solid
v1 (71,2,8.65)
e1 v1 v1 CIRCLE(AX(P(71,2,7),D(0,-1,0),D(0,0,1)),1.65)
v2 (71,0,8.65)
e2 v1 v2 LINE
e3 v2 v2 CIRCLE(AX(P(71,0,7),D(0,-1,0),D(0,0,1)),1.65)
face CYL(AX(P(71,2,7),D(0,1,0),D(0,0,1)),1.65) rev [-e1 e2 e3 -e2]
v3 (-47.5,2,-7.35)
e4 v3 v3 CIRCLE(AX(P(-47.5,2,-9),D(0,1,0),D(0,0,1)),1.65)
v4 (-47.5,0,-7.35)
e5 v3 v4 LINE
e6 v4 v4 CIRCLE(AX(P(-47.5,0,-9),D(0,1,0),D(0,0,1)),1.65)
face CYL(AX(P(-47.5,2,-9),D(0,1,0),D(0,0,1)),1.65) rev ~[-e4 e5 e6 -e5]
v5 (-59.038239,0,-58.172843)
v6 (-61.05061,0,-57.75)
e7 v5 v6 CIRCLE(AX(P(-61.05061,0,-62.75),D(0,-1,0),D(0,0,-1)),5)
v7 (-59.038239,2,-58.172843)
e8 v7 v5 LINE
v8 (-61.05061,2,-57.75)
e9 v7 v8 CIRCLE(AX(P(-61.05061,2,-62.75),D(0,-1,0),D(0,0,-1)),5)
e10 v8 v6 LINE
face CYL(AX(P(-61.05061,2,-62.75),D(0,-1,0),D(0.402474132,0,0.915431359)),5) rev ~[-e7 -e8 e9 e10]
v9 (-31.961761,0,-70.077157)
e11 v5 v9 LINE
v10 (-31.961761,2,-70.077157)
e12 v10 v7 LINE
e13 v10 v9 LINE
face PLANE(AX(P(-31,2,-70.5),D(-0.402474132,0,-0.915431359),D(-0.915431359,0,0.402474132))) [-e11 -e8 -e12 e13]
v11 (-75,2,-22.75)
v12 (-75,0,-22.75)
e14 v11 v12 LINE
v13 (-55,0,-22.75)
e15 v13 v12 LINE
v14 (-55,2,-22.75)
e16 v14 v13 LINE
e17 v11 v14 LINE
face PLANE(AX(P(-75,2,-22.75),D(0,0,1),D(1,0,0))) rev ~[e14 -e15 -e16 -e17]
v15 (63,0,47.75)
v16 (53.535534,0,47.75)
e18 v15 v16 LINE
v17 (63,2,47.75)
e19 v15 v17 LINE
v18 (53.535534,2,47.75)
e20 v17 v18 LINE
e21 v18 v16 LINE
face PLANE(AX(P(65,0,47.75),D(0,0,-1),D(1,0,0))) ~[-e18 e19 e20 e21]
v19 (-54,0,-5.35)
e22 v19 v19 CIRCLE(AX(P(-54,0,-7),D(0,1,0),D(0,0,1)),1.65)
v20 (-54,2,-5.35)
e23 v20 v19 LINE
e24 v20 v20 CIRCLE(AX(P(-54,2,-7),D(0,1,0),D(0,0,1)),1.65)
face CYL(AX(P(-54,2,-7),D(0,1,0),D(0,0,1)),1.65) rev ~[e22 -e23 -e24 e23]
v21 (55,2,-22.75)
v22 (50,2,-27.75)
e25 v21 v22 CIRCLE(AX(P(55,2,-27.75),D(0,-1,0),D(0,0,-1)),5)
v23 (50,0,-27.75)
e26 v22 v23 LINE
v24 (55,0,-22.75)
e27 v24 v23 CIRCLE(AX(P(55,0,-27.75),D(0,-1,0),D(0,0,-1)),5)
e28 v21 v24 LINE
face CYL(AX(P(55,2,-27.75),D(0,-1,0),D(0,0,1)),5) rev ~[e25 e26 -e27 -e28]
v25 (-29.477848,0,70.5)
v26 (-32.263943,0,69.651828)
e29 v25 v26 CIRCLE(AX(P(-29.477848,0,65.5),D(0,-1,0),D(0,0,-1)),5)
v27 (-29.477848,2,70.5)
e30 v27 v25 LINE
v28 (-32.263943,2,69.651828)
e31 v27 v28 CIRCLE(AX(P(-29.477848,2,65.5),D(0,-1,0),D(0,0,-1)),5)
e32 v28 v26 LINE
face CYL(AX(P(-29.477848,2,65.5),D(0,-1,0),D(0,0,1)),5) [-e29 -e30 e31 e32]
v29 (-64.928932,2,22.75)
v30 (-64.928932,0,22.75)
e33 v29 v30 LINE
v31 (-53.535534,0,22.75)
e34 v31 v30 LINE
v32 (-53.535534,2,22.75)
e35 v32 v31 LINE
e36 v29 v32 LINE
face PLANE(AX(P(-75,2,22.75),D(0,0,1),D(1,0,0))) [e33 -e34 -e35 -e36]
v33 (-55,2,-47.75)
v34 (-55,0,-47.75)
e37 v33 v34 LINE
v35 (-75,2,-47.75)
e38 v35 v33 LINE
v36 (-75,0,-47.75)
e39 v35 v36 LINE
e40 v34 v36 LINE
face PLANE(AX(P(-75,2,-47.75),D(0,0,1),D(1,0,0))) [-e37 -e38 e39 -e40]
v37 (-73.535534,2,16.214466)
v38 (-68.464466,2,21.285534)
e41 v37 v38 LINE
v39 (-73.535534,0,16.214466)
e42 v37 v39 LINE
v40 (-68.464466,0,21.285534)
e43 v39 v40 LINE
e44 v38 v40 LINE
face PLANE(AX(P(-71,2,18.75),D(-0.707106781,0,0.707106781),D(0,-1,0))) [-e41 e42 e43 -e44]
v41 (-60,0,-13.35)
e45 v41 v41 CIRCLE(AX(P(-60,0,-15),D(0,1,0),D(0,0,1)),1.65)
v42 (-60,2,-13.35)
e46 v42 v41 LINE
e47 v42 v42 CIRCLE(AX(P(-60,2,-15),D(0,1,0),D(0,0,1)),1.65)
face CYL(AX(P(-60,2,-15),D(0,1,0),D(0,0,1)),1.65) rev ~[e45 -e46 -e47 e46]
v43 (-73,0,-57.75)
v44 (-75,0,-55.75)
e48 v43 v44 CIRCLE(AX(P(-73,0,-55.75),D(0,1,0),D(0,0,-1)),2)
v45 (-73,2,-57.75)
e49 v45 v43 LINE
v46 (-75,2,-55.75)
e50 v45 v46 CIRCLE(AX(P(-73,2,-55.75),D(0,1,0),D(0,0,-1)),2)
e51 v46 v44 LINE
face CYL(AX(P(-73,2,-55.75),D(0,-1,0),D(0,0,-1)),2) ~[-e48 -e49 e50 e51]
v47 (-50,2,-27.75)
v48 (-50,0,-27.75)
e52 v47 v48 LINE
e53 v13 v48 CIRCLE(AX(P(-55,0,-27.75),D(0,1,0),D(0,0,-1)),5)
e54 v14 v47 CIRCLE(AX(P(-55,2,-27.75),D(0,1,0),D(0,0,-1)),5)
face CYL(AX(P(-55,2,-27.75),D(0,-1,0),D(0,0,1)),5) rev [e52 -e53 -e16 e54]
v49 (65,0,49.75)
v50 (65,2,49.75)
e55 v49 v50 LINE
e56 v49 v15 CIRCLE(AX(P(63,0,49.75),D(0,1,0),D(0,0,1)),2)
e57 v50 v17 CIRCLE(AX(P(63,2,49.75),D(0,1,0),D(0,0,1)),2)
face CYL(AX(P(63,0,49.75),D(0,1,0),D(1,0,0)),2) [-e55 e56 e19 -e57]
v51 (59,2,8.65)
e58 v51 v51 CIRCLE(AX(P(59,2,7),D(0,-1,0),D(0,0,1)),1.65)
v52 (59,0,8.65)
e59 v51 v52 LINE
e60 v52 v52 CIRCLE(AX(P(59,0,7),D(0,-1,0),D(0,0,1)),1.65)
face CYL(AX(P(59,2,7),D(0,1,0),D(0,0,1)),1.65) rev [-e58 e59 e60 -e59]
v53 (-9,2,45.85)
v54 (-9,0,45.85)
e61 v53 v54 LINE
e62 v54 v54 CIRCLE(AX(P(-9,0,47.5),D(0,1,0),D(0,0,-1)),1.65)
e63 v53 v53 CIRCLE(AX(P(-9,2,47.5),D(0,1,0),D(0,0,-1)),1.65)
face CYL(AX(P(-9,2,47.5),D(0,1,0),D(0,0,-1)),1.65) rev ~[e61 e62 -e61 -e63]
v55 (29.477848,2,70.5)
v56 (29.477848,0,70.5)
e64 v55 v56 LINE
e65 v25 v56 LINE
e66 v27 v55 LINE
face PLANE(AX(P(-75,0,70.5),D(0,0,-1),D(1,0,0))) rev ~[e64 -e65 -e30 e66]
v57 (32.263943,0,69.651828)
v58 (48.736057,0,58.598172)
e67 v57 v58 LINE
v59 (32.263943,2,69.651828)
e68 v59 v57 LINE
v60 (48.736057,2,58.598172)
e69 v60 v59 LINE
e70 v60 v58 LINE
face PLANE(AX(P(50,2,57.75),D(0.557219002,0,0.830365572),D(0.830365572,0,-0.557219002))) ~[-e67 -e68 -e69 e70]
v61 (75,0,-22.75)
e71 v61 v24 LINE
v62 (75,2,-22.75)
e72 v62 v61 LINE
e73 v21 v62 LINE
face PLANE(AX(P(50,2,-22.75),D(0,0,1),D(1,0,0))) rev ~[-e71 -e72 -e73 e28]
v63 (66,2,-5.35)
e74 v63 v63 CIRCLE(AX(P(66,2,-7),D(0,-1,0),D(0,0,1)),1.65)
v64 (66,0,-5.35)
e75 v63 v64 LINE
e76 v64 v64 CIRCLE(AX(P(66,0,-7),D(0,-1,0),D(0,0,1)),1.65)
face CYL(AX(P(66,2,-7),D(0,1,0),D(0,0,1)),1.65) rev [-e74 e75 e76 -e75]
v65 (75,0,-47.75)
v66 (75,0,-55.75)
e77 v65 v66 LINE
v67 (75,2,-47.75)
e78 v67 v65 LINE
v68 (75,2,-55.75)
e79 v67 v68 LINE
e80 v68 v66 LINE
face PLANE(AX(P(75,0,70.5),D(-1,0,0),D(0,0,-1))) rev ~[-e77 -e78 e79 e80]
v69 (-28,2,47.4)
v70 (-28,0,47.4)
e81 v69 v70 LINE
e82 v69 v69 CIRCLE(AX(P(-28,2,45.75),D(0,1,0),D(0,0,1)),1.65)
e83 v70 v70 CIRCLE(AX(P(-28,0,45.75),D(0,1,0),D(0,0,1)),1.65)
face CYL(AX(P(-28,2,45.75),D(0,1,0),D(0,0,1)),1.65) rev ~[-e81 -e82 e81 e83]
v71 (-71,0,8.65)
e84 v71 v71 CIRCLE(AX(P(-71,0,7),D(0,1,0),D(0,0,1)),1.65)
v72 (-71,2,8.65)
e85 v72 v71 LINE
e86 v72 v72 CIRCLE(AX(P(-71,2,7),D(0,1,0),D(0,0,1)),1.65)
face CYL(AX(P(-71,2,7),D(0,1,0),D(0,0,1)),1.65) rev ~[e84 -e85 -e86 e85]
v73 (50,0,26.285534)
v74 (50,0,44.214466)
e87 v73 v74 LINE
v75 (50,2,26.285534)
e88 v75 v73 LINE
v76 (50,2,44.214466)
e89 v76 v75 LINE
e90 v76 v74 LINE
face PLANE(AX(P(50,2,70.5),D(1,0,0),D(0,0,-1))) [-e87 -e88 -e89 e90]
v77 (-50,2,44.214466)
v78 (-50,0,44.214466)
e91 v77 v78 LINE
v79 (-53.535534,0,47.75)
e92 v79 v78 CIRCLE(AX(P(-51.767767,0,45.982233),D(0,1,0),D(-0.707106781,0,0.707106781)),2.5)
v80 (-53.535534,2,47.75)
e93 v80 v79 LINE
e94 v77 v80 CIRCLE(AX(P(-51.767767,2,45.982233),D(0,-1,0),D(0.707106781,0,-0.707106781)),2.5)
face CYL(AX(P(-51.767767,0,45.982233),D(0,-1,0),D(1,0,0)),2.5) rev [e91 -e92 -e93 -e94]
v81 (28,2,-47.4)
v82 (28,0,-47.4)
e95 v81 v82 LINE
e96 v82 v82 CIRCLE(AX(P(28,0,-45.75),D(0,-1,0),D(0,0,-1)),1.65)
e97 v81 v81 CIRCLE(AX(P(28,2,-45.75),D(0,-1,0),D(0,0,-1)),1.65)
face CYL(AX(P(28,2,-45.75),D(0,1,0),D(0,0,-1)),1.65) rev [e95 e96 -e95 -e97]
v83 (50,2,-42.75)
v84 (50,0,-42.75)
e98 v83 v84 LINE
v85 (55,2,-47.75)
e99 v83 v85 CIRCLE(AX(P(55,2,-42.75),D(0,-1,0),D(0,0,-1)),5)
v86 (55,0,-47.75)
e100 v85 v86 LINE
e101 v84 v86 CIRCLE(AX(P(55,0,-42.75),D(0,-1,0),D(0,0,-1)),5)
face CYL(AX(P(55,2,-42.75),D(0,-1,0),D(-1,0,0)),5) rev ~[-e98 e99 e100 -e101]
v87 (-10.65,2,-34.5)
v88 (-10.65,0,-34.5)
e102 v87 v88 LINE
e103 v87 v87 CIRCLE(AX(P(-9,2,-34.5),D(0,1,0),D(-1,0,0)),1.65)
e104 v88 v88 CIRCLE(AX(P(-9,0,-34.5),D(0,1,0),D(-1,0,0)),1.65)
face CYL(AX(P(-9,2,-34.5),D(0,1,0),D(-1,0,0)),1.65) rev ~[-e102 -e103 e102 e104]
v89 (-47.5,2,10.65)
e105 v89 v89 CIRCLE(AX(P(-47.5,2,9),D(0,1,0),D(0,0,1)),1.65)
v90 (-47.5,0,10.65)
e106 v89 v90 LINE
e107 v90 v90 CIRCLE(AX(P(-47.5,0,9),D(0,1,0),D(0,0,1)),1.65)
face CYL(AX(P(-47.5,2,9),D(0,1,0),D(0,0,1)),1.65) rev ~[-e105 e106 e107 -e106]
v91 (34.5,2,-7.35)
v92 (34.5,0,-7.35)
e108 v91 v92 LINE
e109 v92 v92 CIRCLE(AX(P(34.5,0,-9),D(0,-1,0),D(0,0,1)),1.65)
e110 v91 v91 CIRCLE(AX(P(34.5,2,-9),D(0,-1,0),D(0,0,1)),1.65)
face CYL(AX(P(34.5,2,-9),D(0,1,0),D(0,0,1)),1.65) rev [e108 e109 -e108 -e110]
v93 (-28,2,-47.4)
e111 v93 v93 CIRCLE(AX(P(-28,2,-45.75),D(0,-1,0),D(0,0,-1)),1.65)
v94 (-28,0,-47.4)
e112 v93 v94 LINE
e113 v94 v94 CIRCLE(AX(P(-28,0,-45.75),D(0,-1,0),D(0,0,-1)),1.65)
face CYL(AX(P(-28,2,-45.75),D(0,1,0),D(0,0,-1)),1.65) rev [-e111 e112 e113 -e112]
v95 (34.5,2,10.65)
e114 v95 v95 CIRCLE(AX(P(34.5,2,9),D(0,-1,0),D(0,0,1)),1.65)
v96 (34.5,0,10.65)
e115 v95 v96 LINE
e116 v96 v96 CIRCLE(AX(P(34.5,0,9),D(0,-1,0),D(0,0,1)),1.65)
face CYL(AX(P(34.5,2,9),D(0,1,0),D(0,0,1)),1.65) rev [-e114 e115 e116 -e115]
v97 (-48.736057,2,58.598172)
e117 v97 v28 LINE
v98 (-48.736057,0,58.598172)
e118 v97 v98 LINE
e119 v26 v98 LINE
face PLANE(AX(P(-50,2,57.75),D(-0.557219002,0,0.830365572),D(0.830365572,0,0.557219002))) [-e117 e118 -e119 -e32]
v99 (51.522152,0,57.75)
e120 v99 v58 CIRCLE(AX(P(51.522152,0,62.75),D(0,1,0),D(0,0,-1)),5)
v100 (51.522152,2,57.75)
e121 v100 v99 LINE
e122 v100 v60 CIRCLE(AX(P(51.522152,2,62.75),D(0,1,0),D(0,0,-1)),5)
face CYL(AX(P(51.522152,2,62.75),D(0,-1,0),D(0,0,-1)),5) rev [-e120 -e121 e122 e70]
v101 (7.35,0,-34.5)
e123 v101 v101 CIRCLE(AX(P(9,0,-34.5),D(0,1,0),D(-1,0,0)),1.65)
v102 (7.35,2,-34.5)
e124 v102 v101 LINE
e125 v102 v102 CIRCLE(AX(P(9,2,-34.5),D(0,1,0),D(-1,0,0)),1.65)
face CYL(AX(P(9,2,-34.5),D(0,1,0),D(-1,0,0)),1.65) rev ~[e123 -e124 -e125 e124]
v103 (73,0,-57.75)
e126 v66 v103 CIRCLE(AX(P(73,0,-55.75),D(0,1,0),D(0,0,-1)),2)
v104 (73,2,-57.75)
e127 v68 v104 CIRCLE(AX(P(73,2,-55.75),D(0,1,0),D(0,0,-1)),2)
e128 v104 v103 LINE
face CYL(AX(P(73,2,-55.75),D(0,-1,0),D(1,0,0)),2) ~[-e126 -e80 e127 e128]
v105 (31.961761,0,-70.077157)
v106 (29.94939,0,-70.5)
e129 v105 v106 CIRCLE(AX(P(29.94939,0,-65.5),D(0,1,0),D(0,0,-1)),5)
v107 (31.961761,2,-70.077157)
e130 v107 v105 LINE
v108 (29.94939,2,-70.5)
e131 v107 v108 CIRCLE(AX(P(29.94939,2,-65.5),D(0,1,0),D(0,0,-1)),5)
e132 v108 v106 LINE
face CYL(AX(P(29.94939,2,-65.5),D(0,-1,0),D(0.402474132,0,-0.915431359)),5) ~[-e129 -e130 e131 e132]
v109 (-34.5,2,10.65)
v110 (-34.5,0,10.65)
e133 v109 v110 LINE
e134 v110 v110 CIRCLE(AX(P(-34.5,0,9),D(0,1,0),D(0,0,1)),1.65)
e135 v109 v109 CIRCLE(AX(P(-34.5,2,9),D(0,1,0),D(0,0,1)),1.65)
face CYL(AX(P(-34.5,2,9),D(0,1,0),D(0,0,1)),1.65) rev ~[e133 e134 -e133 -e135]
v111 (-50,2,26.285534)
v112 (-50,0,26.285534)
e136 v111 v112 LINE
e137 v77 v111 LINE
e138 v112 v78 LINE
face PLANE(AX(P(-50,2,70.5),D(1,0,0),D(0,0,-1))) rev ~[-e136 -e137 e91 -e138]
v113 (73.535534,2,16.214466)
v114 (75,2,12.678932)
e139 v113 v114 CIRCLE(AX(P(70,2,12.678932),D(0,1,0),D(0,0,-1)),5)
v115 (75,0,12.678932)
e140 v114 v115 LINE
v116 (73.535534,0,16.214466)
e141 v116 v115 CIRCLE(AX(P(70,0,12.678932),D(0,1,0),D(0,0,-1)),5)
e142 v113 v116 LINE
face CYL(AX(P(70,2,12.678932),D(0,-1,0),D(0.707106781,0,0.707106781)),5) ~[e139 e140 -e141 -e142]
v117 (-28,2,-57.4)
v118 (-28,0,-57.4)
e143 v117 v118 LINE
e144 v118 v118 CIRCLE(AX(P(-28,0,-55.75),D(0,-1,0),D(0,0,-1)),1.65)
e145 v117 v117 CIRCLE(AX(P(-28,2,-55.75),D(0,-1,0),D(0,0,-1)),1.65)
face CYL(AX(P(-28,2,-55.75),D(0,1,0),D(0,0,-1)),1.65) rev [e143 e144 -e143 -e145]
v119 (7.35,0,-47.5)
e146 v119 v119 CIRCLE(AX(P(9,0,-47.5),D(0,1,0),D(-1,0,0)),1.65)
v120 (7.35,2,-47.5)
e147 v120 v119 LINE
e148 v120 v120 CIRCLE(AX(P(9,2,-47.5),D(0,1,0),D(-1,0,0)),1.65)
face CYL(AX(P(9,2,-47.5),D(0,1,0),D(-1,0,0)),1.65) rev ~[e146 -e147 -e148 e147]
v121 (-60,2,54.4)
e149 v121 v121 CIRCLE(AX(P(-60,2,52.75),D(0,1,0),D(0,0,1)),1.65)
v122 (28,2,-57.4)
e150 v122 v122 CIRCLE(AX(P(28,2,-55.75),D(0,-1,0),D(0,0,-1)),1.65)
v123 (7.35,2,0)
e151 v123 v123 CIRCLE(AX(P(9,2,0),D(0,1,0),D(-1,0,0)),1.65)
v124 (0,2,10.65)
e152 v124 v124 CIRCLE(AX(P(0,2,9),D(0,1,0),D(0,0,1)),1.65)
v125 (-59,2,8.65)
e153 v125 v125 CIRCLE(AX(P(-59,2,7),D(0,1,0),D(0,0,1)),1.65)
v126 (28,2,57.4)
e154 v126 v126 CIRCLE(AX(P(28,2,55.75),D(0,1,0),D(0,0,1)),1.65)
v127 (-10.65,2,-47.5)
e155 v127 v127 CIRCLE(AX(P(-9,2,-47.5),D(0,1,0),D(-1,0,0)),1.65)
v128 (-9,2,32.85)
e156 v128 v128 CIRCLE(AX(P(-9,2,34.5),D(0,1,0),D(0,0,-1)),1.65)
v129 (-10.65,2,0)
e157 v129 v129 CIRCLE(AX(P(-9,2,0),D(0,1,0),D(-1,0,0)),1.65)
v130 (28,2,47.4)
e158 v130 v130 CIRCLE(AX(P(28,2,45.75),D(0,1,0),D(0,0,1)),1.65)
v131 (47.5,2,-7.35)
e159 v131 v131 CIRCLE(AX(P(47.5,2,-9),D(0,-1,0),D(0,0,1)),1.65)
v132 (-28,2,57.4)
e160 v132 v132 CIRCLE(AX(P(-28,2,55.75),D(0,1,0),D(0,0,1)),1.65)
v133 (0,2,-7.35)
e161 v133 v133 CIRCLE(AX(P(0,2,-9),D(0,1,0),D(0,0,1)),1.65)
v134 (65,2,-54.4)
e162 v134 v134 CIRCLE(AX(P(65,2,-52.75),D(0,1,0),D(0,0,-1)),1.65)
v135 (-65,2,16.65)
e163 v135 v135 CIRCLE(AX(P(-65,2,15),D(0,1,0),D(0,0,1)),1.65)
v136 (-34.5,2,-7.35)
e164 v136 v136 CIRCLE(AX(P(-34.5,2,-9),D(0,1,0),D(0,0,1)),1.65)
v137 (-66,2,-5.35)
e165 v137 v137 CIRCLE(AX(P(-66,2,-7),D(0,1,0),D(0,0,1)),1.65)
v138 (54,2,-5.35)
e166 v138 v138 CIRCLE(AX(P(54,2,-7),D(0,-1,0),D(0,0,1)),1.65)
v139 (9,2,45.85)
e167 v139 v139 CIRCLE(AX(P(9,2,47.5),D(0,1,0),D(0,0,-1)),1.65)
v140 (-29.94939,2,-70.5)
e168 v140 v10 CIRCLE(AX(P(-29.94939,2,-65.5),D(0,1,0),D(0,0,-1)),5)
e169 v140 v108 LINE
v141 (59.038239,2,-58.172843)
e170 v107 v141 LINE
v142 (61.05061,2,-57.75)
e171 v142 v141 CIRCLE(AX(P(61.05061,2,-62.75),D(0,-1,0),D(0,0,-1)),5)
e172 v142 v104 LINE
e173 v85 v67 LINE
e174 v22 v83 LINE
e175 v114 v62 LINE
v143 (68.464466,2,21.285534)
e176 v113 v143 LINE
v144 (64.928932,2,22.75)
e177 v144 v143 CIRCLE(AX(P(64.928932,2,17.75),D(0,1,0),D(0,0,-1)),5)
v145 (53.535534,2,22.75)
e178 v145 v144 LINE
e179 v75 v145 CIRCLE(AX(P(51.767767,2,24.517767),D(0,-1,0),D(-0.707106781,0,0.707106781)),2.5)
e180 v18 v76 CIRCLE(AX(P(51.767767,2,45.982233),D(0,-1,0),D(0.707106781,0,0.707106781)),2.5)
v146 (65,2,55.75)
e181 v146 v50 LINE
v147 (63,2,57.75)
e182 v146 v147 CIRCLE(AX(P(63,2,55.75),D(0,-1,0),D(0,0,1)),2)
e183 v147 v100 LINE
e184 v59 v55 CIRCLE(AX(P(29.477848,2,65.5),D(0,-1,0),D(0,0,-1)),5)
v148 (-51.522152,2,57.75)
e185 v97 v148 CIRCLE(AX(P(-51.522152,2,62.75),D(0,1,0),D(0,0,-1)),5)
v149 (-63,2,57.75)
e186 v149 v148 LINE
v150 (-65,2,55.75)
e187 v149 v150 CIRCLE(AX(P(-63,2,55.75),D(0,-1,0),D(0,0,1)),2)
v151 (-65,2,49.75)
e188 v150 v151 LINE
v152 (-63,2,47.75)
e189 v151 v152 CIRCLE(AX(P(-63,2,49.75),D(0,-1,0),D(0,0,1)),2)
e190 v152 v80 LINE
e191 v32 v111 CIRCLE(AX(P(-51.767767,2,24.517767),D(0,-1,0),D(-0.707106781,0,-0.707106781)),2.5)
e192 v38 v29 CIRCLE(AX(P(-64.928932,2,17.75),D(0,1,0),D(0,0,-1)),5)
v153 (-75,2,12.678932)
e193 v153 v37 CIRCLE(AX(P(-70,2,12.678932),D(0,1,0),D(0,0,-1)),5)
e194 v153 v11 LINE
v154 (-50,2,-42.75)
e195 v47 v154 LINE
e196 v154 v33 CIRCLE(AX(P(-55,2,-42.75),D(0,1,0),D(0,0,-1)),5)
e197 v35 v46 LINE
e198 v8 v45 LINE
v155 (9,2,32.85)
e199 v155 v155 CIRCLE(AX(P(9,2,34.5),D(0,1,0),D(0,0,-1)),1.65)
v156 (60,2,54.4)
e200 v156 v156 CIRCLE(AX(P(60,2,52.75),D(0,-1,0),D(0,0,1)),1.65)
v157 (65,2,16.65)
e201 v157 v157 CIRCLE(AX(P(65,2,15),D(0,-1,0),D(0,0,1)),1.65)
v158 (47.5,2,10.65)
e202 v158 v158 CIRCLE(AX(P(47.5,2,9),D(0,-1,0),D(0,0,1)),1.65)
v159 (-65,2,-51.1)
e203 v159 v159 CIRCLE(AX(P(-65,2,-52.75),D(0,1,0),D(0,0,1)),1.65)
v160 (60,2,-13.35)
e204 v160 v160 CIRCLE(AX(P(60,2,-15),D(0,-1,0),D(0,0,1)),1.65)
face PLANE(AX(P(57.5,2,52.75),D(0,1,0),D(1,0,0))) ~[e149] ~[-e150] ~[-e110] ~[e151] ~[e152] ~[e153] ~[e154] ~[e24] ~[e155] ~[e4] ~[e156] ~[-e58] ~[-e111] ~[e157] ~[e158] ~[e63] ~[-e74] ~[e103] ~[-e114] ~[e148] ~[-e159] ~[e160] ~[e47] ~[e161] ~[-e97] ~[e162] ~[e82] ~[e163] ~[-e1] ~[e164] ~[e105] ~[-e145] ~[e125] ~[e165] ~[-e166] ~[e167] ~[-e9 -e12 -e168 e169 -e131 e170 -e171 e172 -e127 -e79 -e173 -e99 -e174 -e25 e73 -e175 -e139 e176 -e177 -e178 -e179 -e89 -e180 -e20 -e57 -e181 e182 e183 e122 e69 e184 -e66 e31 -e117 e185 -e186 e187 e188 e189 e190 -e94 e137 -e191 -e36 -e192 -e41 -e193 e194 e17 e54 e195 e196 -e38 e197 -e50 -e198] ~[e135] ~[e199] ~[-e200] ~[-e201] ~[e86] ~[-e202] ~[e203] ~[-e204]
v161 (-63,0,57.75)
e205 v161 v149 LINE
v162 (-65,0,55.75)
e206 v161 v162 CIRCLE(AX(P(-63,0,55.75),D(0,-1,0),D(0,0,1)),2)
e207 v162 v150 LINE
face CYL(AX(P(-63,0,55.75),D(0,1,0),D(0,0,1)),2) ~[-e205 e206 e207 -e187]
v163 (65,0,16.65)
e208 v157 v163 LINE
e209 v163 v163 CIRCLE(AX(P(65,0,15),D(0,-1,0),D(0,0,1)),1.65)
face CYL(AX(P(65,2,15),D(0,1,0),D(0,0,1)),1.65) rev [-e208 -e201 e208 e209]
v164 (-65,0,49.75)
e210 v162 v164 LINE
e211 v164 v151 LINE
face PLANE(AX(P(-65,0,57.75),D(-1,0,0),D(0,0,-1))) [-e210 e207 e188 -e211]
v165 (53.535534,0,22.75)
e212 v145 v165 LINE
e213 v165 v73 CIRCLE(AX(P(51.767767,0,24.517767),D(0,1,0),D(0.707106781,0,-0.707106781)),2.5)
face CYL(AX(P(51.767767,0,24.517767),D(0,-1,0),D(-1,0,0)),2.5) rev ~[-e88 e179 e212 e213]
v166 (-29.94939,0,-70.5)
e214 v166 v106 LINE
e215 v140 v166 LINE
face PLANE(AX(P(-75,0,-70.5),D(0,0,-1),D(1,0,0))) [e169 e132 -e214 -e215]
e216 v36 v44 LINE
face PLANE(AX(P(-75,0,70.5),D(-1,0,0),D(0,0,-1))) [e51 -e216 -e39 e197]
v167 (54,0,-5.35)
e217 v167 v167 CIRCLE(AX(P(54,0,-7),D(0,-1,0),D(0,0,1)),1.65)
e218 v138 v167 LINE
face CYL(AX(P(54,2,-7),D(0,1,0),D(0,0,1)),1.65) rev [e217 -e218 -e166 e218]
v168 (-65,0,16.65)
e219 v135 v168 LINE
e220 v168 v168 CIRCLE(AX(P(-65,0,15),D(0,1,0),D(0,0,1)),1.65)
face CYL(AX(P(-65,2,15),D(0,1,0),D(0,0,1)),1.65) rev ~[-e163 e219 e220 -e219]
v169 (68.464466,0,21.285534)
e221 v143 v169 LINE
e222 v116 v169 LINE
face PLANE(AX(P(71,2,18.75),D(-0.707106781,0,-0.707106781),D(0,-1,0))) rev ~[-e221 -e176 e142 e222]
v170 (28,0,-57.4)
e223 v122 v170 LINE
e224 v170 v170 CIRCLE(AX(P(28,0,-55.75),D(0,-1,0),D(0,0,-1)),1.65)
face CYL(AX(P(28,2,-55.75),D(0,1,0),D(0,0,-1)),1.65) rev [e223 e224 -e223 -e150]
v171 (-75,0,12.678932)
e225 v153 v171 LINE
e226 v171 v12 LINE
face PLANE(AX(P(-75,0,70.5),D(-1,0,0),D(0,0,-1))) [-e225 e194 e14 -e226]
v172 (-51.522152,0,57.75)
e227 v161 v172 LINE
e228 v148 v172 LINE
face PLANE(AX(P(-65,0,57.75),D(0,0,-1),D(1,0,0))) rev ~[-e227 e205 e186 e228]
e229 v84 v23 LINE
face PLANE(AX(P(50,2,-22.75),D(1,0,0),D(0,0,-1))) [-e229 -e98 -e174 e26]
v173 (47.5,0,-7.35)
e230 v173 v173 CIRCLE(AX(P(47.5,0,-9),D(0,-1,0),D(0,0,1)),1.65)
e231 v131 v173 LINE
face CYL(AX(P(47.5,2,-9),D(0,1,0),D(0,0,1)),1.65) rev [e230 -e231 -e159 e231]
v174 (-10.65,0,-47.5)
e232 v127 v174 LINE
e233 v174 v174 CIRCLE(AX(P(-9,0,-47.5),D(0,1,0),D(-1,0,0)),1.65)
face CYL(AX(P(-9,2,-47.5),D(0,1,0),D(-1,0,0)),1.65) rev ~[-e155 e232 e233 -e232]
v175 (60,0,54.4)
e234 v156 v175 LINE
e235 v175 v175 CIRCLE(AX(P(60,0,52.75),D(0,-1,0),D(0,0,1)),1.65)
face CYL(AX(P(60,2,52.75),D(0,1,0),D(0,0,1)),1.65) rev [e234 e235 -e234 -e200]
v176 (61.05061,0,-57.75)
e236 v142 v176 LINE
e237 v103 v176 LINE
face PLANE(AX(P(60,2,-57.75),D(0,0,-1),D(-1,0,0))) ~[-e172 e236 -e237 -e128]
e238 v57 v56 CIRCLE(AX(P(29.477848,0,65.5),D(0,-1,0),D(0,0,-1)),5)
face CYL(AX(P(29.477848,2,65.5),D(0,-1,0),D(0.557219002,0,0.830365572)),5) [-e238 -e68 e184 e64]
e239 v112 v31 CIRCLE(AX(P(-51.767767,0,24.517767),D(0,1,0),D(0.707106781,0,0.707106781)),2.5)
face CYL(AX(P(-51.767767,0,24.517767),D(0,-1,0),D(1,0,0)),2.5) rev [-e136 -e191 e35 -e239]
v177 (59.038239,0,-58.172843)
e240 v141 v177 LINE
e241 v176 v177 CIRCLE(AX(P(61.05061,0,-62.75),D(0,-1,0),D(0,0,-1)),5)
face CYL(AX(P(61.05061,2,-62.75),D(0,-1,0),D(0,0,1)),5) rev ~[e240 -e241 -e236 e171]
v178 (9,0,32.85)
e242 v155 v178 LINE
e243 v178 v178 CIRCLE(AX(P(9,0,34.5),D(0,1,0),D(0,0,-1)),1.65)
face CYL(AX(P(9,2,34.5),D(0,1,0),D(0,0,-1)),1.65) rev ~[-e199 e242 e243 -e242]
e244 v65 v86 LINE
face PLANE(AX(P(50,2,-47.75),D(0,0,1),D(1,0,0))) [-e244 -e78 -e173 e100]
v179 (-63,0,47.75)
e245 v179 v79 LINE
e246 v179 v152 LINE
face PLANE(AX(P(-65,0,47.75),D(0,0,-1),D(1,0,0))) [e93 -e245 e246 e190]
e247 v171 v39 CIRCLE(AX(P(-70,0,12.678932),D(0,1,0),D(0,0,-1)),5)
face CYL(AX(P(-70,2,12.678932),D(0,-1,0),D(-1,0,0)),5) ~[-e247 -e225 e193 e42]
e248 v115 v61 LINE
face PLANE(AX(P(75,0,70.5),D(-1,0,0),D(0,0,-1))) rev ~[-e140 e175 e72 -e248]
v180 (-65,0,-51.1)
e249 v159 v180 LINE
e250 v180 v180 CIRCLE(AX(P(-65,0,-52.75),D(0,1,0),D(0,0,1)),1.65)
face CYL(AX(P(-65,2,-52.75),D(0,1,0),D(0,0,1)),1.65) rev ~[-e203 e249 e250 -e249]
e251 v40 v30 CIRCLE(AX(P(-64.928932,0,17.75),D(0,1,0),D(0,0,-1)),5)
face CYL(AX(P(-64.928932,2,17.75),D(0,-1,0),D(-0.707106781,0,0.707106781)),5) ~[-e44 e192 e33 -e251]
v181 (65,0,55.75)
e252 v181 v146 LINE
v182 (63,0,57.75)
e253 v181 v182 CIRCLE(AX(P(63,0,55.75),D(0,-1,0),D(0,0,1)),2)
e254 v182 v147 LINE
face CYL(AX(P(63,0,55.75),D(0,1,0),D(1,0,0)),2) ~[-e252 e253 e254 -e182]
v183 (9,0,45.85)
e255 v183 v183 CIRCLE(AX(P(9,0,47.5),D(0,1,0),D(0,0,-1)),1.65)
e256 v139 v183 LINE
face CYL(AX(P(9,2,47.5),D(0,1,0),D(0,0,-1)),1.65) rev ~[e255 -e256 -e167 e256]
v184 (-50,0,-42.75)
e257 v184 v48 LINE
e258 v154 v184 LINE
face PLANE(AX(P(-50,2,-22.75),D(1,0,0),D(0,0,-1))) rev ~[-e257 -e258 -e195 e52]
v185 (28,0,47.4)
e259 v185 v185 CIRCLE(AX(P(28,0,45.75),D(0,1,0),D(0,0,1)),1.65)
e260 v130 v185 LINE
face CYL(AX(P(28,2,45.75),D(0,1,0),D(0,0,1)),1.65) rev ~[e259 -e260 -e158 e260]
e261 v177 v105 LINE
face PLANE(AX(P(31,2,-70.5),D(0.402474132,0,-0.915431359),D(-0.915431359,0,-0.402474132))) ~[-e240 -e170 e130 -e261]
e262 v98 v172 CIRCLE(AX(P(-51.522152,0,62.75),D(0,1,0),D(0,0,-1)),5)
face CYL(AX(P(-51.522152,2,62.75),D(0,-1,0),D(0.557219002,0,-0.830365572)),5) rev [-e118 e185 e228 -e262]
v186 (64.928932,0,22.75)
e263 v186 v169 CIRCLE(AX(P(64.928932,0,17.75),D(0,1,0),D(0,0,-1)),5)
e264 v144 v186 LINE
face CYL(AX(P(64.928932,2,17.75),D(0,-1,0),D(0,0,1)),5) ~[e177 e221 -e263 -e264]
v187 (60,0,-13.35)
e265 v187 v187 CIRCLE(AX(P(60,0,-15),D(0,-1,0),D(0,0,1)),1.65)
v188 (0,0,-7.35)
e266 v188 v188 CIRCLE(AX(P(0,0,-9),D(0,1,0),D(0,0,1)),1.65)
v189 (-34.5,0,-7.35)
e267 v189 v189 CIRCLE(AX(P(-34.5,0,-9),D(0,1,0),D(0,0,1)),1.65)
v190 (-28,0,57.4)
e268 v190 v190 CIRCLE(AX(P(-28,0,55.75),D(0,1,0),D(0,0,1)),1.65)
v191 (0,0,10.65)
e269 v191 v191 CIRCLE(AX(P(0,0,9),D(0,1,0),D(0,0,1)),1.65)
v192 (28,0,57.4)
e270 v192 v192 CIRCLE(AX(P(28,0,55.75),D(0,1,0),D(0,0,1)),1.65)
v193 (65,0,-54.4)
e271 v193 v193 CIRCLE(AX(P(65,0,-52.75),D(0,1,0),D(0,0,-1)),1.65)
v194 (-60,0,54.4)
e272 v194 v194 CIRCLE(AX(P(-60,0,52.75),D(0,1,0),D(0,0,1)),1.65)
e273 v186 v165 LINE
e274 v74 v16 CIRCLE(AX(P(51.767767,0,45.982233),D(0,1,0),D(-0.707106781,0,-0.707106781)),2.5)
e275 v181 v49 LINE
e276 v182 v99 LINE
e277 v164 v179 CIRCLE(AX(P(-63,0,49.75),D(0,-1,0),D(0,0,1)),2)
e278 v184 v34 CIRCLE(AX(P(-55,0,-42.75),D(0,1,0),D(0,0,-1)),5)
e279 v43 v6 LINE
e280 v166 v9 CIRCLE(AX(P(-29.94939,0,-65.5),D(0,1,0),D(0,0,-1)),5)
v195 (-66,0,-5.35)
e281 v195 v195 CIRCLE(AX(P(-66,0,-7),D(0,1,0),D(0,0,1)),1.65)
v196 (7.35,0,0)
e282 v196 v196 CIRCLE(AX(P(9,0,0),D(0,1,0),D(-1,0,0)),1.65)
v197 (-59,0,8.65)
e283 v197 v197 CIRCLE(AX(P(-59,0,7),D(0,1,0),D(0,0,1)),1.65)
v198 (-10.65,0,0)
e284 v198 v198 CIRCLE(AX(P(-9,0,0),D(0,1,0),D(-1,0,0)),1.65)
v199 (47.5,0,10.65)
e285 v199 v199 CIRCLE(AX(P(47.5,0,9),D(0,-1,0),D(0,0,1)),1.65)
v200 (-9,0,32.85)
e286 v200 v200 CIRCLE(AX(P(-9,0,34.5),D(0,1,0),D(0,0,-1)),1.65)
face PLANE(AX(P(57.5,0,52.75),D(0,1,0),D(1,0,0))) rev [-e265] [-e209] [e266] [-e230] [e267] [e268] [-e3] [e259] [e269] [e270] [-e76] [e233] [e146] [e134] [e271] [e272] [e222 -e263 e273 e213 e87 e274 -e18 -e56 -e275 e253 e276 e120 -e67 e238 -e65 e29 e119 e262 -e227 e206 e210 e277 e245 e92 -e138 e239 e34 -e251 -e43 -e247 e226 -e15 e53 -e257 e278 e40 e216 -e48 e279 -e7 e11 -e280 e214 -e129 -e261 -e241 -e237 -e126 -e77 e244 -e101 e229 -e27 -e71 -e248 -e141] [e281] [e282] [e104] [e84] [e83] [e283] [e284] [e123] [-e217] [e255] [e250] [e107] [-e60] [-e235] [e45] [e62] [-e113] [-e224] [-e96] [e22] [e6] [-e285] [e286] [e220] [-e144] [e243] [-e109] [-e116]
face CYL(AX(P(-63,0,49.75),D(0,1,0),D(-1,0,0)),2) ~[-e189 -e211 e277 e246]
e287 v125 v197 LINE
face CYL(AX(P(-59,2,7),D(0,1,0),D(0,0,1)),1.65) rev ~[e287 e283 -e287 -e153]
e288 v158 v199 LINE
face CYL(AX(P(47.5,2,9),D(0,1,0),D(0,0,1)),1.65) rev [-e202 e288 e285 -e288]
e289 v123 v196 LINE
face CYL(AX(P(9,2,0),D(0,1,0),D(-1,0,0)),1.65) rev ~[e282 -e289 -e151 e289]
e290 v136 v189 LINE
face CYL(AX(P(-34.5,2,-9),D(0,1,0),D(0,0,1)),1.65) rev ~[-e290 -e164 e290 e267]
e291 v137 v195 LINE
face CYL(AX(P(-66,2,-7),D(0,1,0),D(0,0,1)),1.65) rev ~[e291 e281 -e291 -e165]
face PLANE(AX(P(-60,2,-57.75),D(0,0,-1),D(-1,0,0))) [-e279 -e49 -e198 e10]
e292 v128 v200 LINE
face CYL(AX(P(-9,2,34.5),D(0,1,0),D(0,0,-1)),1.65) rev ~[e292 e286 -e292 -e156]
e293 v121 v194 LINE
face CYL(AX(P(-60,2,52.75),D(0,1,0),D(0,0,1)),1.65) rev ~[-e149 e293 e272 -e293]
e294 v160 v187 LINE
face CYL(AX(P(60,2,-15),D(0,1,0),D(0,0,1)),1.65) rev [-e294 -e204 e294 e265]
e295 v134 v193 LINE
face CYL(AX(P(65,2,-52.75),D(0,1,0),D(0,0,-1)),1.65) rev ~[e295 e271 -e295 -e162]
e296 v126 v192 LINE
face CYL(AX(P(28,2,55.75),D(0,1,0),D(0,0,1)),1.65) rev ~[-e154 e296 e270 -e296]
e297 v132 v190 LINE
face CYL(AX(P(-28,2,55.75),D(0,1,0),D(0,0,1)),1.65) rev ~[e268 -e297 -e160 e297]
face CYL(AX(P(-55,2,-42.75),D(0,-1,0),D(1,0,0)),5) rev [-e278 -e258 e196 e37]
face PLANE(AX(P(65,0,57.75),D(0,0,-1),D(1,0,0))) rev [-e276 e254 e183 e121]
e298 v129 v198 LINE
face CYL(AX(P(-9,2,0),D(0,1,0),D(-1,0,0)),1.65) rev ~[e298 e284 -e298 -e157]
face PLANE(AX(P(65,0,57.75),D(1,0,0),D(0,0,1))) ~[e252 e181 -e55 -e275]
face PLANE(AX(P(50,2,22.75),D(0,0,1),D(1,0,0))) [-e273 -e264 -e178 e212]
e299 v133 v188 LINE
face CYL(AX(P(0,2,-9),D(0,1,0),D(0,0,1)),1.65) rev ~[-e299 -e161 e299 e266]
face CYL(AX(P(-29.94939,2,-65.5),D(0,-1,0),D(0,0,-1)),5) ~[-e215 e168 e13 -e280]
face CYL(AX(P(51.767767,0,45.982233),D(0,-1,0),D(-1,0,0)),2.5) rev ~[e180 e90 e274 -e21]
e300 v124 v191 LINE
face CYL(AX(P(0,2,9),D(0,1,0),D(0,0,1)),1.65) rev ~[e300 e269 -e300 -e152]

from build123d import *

# Parameters (mm, degrees)
SKETCH_1_W                         = 150
SKETCH_1_H                         = 141
EXTRUDE_1_DEPTH                    = 2
CUT_EXTRUDE_1_REACH                = 104.953
SKETCH_2_R                         = 1.65
CUT_EXTRUDE_5_REACH                = 104.953
SKETCH_9_W                         = 25
SKETCH_9_H                         = 47.75
CUT_EXTRUDE_6_REACH                = 104.953
CHAMFER_1_SIZE                     = 8
CUT_EXTRUDE_7_REACH                = 104.953
SKETCH_11_W                        = 25
SKETCH_11_H                        = 25
CUT_EXTRUDE_8_REACH                = 104.953
SKETCH_12_R                        = 1.65
FILLET_1_R                         = 5
CUT_EXTRUDE_9_REACH                = 104.953
SKETCH_14_W                        = 15
SKETCH_14_H                        = 10
EXTRUDE_2_DEPTH                    = 2
CUT_EXTRUDE_10_REACH               = 104.953
SKETCH_15_R                        = 1.65
CUT_EXTRUDE_START                  = -2
SKETCH_18_R                        = 2.5
CUT_EXTRUDE_13_DEPTH               = 2
CUT_EXTRUDE_14_REACH               = 104.953
SKETCH_19_R                        = 1.65
CUT_EXTRUDE_15_REACH               = 104.953
SKETCH_20_R                        = 1.65
FILLET_2_R                         = 2
CUT_EXTRUDE_12_REACH               = 104.953
SKETCH_17_R                        = 1.65
FILLET_3_R                         = 5
PATTERN_CIRCULAR_1_COUNT           = 2
PATTERN_CIRCULAR_1_ANGLE           = 90
PATTERN_CIRCULAR_1_COPY_1_REACH    = 104.953
PATTERN_CIRCULAR_1_COPY_1_SKETCH_R = 1.65


with BuildPart() as part:
    # 草图1 → 凸台-拉伸1 (new body)
    with BuildSketch(Plane(origin=(0, 0, 0), x_dir=(1, 0, 0), z_dir=(0, 1, 0))):
        Rectangle(SKETCH_1_W, SKETCH_1_H)
    extrude(amount=EXTRUDE_1_DEPTH)

    # 草图2 → 切除-拉伸1 (cut, up to next)
    with BuildSketch(Plane(origin=(0, 2, 0), x_dir=(1, 0, 0), z_dir=(0, 1, 0)), mode=Mode.PRIVATE) as cut_extrude_1_sk1:
        with Locations(Location((-60, 15, 0), (0, 0, 270))):
            Circle(SKETCH_2_R)
    cut_extrude_1_tool1 = extrude(cut_extrude_1_sk1.sketch, amount=-CUT_EXTRUDE_1_REACH, mode=Mode.PRIVATE) & part.part
    # 草图2 → 切除-拉伸1 (cut, up to next)
    with BuildSketch(Plane(origin=(0, 2, 0), x_dir=(1, 0, 0), z_dir=(0, 1, 0)), mode=Mode.PRIVATE) as cut_extrude_1_sk2:
        with Locations(Location((-66, 7, 0), (0, 0, 270))):
            Circle(SKETCH_2_R)
    cut_extrude_1_tool2 = extrude(cut_extrude_1_sk2.sketch, amount=-CUT_EXTRUDE_1_REACH, mode=Mode.PRIVATE) & part.part
    # 草图2 → 切除-拉伸1 (cut, up to next)
    with BuildSketch(Plane(origin=(0, 2, 0), x_dir=(1, 0, 0), z_dir=(0, 1, 0)), mode=Mode.PRIVATE) as cut_extrude_1_sk3:
        with Locations(Location((-54, 7, 0), (0, 0, 270))):
            Circle(SKETCH_2_R)
    cut_extrude_1_tool3 = extrude(cut_extrude_1_sk3.sketch, amount=-CUT_EXTRUDE_1_REACH, mode=Mode.PRIVATE) & part.part
    # 草图2 → 切除-拉伸1 (cut, up to next)
    with BuildSketch(Plane(origin=(0, 2, 0), x_dir=(1, 0, 0), z_dir=(0, 1, 0)), mode=Mode.PRIVATE) as cut_extrude_1_sk4:
        with Locations(Location((-71, -7, 0), (0, 0, 270))):
            Circle(SKETCH_2_R)
    cut_extrude_1_tool4 = extrude(cut_extrude_1_sk4.sketch, amount=-CUT_EXTRUDE_1_REACH, mode=Mode.PRIVATE) & part.part
    # 草图2 → 切除-拉伸1 (cut, up to next)
    with BuildSketch(Plane(origin=(0, 2, 0), x_dir=(1, 0, 0), z_dir=(0, 1, 0)), mode=Mode.PRIVATE) as cut_extrude_1_sk5:
        with Locations(Location((-59, -7, 0), (0, 0, 270))):
            Circle(SKETCH_2_R)
    cut_extrude_1_tool5 = extrude(cut_extrude_1_sk5.sketch, amount=-CUT_EXTRUDE_1_REACH, mode=Mode.PRIVATE) & part.part
    # 草图2 → 切除-拉伸1 (cut, up to next)
    with BuildSketch(Plane(origin=(0, 2, 0), x_dir=(1, 0, 0), z_dir=(0, 1, 0)), mode=Mode.PRIVATE) as cut_extrude_1_sk6:
        with Locations(Location((-65, -15, 0), (0, 0, 270))):
            Circle(SKETCH_2_R)
    cut_extrude_1_tool6 = extrude(cut_extrude_1_sk6.sketch, amount=-CUT_EXTRUDE_1_REACH, mode=Mode.PRIVATE) & part.part
    cut_extrude_1_1 = cut_extrude_1_tool1.solids().sort_by_distance((-60, 2, -15))[0]
    add(cut_extrude_1_1, mode=Mode.SUBTRACT)
    cut_extrude_1_2 = cut_extrude_1_tool2.solids().sort_by_distance((-66, 2, -7))[0]
    add(cut_extrude_1_2, mode=Mode.SUBTRACT)
    cut_extrude_1_3 = cut_extrude_1_tool3.solids().sort_by_distance((-54, 2, -7))[0]
    add(cut_extrude_1_3, mode=Mode.SUBTRACT)
    cut_extrude_1_4 = cut_extrude_1_tool4.solids().sort_by_distance((-71, 2, 7))[0]
    add(cut_extrude_1_4, mode=Mode.SUBTRACT)
    cut_extrude_1_5 = cut_extrude_1_tool5.solids().sort_by_distance((-59, 2, 7))[0]
    add(cut_extrude_1_5, mode=Mode.SUBTRACT)
    cut_extrude_1_6 = cut_extrude_1_tool6.solids().sort_by_distance((-65, 2, 15))[0]
    add(cut_extrude_1_6, mode=Mode.SUBTRACT)
    cut_extrude_1 = cut_extrude_1_1 + cut_extrude_1_2 + cut_extrude_1_3 + cut_extrude_1_4 + cut_extrude_1_5 + cut_extrude_1_6  # 切除-拉伸1 as one shape, for the pattern or mirror that repeats it

    # 草图9 → 切除-拉伸5 (cut, up to next)
    with BuildSketch(Plane(origin=(0, 2, 0), x_dir=(1, 0, 0), z_dir=(0, 1, 0)), mode=Mode.PRIVATE) as cut_extrude_5_sk1:
        with Locations((-62.5, -46.625)):
            Rectangle(SKETCH_9_W, SKETCH_9_H)
    cut_extrude_5_tool1 = extrude(cut_extrude_5_sk1.sketch, amount=-CUT_EXTRUDE_5_REACH, mode=Mode.PRIVATE) & part.part
    # 草图9 → 切除-拉伸5 (cut, up to next)
    with BuildSketch(Plane(origin=(0, 2, 0), x_dir=(1, 0, 0), z_dir=(0, 1, 0)), mode=Mode.PRIVATE) as cut_extrude_5_sk2:
        with Locations((62.5, -46.625)):
            Rectangle(SKETCH_9_W, SKETCH_9_H)
    cut_extrude_5_tool2 = extrude(cut_extrude_5_sk2.sketch, amount=-CUT_EXTRUDE_5_REACH, mode=Mode.PRIVATE) & part.part
    add(cut_extrude_5_tool1.solids().sort_by_distance((-62.5, 2, 46.625))[0], mode=Mode.SUBTRACT)
    add(cut_extrude_5_tool2.solids().sort_by_distance((62.5, 2, 46.625))[0], mode=Mode.SUBTRACT)

    # 草图10 → 切除-拉伸6 (cut, up to next)
    with BuildSketch(Plane(origin=(0, 2, 0), x_dir=(1, 0, 0), z_dir=(0, 1, 0)), mode=Mode.PRIVATE) as cut_extrude_6_sk1:
        Polygon((-75, 70.5), (-31, 70.5), (-60, 57.75), (-75, 57.75), align=None)
    cut_extrude_6_tool1 = extrude(cut_extrude_6_sk1.sketch, amount=-CUT_EXTRUDE_6_REACH, mode=Mode.PRIVATE) & part.part
    cut_extrude_6 = cut_extrude_6_tool1.solids().sort_by_distance((-59.062147, 2, -65.169492))[0]
    add(cut_extrude_6, mode=Mode.SUBTRACT)

    # 镜向1: 切除-拉伸1, 切除-拉伸6 across plane
    add(cut_extrude_1.mirror(Plane(origin=(0, 0, 0), x_dir=(0, 0, 1), z_dir=(1, 0, 0))), mode=Mode.SUBTRACT)
    add(cut_extrude_6.mirror(Plane(origin=(0, 0, 0), x_dir=(0, 0, 1), z_dir=(1, 0, 0))), mode=Mode.SUBTRACT)

    # 倒角1
    chamfer_1_edges = [part.edges().sort_by_distance(p)[0] for p in [
        (-75, 1, 22.75),
        (75, 1, 22.75),
    ]]
    chamfer(chamfer_1_edges, length=CHAMFER_1_SIZE)

    # 草图11 → 切除-拉伸7 (cut, up to next)
    with BuildSketch(Plane(origin=(0, 2, 0), x_dir=(1, 0, 0), z_dir=(0, 1, 0)), mode=Mode.PRIVATE) as cut_extrude_7_sk1:
        with Locations((-62.5, 35.25)):
            Rectangle(SKETCH_11_W, SKETCH_11_H)
    cut_extrude_7_tool1 = extrude(cut_extrude_7_sk1.sketch, amount=-CUT_EXTRUDE_7_REACH, mode=Mode.PRIVATE) & part.part
    # 草图11 → 切除-拉伸7 (cut, up to next)
    with BuildSketch(Plane(origin=(0, 2, 0), x_dir=(1, 0, 0), z_dir=(0, 1, 0)), mode=Mode.PRIVATE) as cut_extrude_7_sk2:
        with Locations((62.5, 35.25)):
            Rectangle(SKETCH_11_W, SKETCH_11_H)
    cut_extrude_7_tool2 = extrude(cut_extrude_7_sk2.sketch, amount=-CUT_EXTRUDE_7_REACH, mode=Mode.PRIVATE) & part.part
    add(cut_extrude_7_tool1.solids().sort_by_distance((-62.5, 2, -35.25))[0], mode=Mode.SUBTRACT)
    add(cut_extrude_7_tool2.solids().sort_by_distance((62.5, 2, -35.25))[0], mode=Mode.SUBTRACT)

    # 草图12 → 切除-拉伸8 (cut, up to next)
    with BuildSketch(Plane(origin=(0, 2, 0), x_dir=(1, 0, 0), z_dir=(0, 1, 0)), mode=Mode.PRIVATE) as cut_extrude_8_sk1:
        with Locations(Location((-65, 52.75, 0), (0, 0, 270))):
            Circle(SKETCH_12_R)
    cut_extrude_8_tool1 = extrude(cut_extrude_8_sk1.sketch, amount=-CUT_EXTRUDE_8_REACH, mode=Mode.PRIVATE) & part.part
    # 草图12 → 切除-拉伸8 (cut, up to next)
    with BuildSketch(Plane(origin=(0, 2, 0), x_dir=(1, 0, 0), z_dir=(0, 1, 0)), mode=Mode.PRIVATE) as cut_extrude_8_sk2:
        with Locations(Location((65, 52.75, 0), (0, 0, 90))):
            Circle(SKETCH_12_R)
    cut_extrude_8_tool2 = extrude(cut_extrude_8_sk2.sketch, amount=-CUT_EXTRUDE_8_REACH, mode=Mode.PRIVATE) & part.part
    add(cut_extrude_8_tool1.solids().sort_by_distance((-65, 2, -52.75))[0], mode=Mode.SUBTRACT)
    add(cut_extrude_8_tool2.solids().sort_by_distance((65, 2, -52.75))[0], mode=Mode.SUBTRACT)

    # 圆角1
    fillet_1_edges = [part.edges().sort_by_distance(p)[0] for p in [
        (67, 1, 22.75),
        (75, 1, 14.75),
        (-75, 1, 14.75),
        (-67, 1, 22.75),
        (-50, 1, -47.75),
        (-50, 1, -22.75),
        (50, 1, -22.75),
        (50, 1, -47.75),
    ]]
    fillet(fillet_1_edges, radius=FILLET_1_R)

    # 草图13 → 切除-拉伸9 (cut, up to next)
    with BuildSketch(Plane(origin=(0, 2, 0), x_dir=(1, 0, 0), z_dir=(0, 1, 0)), mode=Mode.PRIVATE) as cut_extrude_9_sk1:
        Polygon((-50, -70.5), (-50, -57.75), (-31, -70.5), align=None)
    cut_extrude_9_tool1 = extrude(cut_extrude_9_sk1.sketch, amount=-CUT_EXTRUDE_9_REACH, mode=Mode.PRIVATE) & part.part
    cut_extrude_9 = cut_extrude_9_tool1.solids().sort_by_distance((-43.666667, 2, 66.25))[0]
    add(cut_extrude_9, mode=Mode.SUBTRACT)

    # 草图14 → 凸台-拉伸2 (add)
    with BuildSketch(Plane(origin=(0, 0, 0), x_dir=(1, 0, 0), z_dir=(0, 1, 0))):
        with Locations((-57.5, -52.75)):
            Rectangle(SKETCH_14_W, SKETCH_14_H)
    extrude_2 = extrude(amount=EXTRUDE_2_DEPTH)

    # 草图15 → 切除-拉伸10 (cut, up to next)
    with BuildSketch(Plane(origin=(0, 2, 0), x_dir=(1, 0, 0), z_dir=(0, 1, 0)), mode=Mode.PRIVATE) as cut_extrude_10_sk1:
        with Locations(Location((-60, -52.75, 0), (0, 0, 270))):
            Circle(SKETCH_15_R)
    cut_extrude_10_tool1 = extrude(cut_extrude_10_sk1.sketch, amount=-CUT_EXTRUDE_10_REACH, mode=Mode.PRIVATE) & part.part
    cut_extrude_10 = cut_extrude_10_tool1.solids().sort_by_distance((-60, 2, 52.75))[0]
    add(cut_extrude_10, mode=Mode.SUBTRACT)

    # 草图18 → 切除-拉伸13 (cut)
    with BuildSketch(Plane(origin=(0, 2, 0), x_dir=(1, 0, 0), z_dir=(0, 1, 0)).offset(CUT_EXTRUDE_START)):
        with Locations((-51.767766953, -24.517766953)):
            Circle(SKETCH_18_R)
        with Locations((-51.767766953, -45.982233047)):
            Circle(SKETCH_18_R)
    cut_extrude_13 = extrude(amount=CUT_EXTRUDE_13_DEPTH, mode=Mode.SUBTRACT)

    # 草图19 → 切除-拉伸14 (cut, up to next)
    with BuildSketch(Plane(origin=(0, 2, 0), x_dir=(1, 0, 0), z_dir=(0, 1, 0)), mode=Mode.PRIVATE) as cut_extrude_14_sk1:
        with Locations(Location((-47.5, 9, 0), (0, 0, 270))):
            Circle(SKETCH_19_R)
    cut_extrude_14_tool1 = extrude(cut_extrude_14_sk1.sketch, amount=-CUT_EXTRUDE_14_REACH, mode=Mode.PRIVATE) & part.part
    # 草图19 → 切除-拉伸14 (cut, up to next)
    with BuildSketch(Plane(origin=(0, 2, 0), x_dir=(1, 0, 0), z_dir=(0, 1, 0)), mode=Mode.PRIVATE) as cut_extrude_14_sk2:
        with Locations(Location((-47.5, -9, 0), (0, 0, 270))):
            Circle(SKETCH_19_R)
    cut_extrude_14_tool2 = extrude(cut_extrude_14_sk2.sketch, amount=-CUT_EXTRUDE_14_REACH, mode=Mode.PRIVATE) & part.part
    # 草图19 → 切除-拉伸14 (cut, up to next)
    with BuildSketch(Plane(origin=(0, 2, 0), x_dir=(1, 0, 0), z_dir=(0, 1, 0)), mode=Mode.PRIVATE) as cut_extrude_14_sk3:
        with Locations(Location((-34.5, -9, 0), (0, 0, 270))):
            Circle(SKETCH_19_R)
    cut_extrude_14_tool3 = extrude(cut_extrude_14_sk3.sketch, amount=-CUT_EXTRUDE_14_REACH, mode=Mode.PRIVATE) & part.part
    # 草图19 → 切除-拉伸14 (cut, up to next)
    with BuildSketch(Plane(origin=(0, 2, 0), x_dir=(1, 0, 0), z_dir=(0, 1, 0)), mode=Mode.PRIVATE) as cut_extrude_14_sk4:
        with Locations(Location((-34.5, 9, 0), (0, 0, 270))):
            Circle(SKETCH_19_R)
    cut_extrude_14_tool4 = extrude(cut_extrude_14_sk4.sketch, amount=-CUT_EXTRUDE_14_REACH, mode=Mode.PRIVATE) & part.part
    cut_extrude_14_1 = cut_extrude_14_tool1.solids().sort_by_distance((-47.5, 2, -9))[0]
    add(cut_extrude_14_1, mode=Mode.SUBTRACT)
    cut_extrude_14_2 = cut_extrude_14_tool2.solids().sort_by_distance((-47.5, 2, 9))[0]
    add(cut_extrude_14_2, mode=Mode.SUBTRACT)
    cut_extrude_14_3 = cut_extrude_14_tool3.solids().sort_by_distance((-34.5, 2, 9))[0]
    add(cut_extrude_14_3, mode=Mode.SUBTRACT)
    cut_extrude_14_4 = cut_extrude_14_tool4.solids().sort_by_distance((-34.5, 2, -9))[0]
    add(cut_extrude_14_4, mode=Mode.SUBTRACT)
    cut_extrude_14 = cut_extrude_14_1 + cut_extrude_14_2 + cut_extrude_14_3 + cut_extrude_14_4  # 切除-拉伸14 as one shape, for the pattern or mirror that repeats it

    # 镜向2: 切除-拉伸9, 凸台-拉伸2, 切除-拉伸10, 切除-拉伸13 across plane
    add(cut_extrude_9.mirror(Plane(origin=(0, 0, 0), x_dir=(0, 0, 1), z_dir=(1, 0, 0))), mode=Mode.SUBTRACT)
    add(extrude_2.mirror(Plane(origin=(0, 0, 0), x_dir=(0, 0, 1), z_dir=(1, 0, 0))))
    add(cut_extrude_10.mirror(Plane(origin=(0, 0, 0), x_dir=(0, 0, 1), z_dir=(1, 0, 0))), mode=Mode.SUBTRACT)
    add(cut_extrude_13.mirror(Plane(origin=(0, 0, 0), x_dir=(0, 0, 1), z_dir=(1, 0, 0))), mode=Mode.SUBTRACT)

    # 镜向4: 切除-拉伸14 across plane
    add(cut_extrude_14.mirror(Plane(origin=(0, 0, 0), x_dir=(0, 0, 1), z_dir=(1, 0, 0))), mode=Mode.SUBTRACT)

    # 草图20 → 切除-拉伸15 (cut, up to next)
    with BuildSketch(Plane(origin=(0, 2, 0), x_dir=(1, 0, 0), z_dir=(0, 1, 0)), mode=Mode.PRIVATE) as cut_extrude_15_sk1:
        with Locations(Location((0, 9, 0), (0, 0, 270))):
            Circle(SKETCH_20_R)
    cut_extrude_15_tool1 = extrude(cut_extrude_15_sk1.sketch, amount=-CUT_EXTRUDE_15_REACH, mode=Mode.PRIVATE) & part.part
    # 草图20 → 切除-拉伸15 (cut, up to next)
    with BuildSketch(Plane(origin=(0, 2, 0), x_dir=(1, 0, 0), z_dir=(0, 1, 0)), mode=Mode.PRIVATE) as cut_extrude_15_sk2:
        with Locations(Location((0, -9, 0), (0, 0, 270))):
            Circle(SKETCH_20_R)
    cut_extrude_15_tool2 = extrude(cut_extrude_15_sk2.sketch, amount=-CUT_EXTRUDE_15_REACH, mode=Mode.PRIVATE) & part.part
    cut_extrude_15_1 = cut_extrude_15_tool1.solids().sort_by_distance((0, 2, -9))[0]
    add(cut_extrude_15_1, mode=Mode.SUBTRACT)
    cut_extrude_15_2 = cut_extrude_15_tool2.solids().sort_by_distance((0, 2, 9))[0]
    add(cut_extrude_15_2, mode=Mode.SUBTRACT)
    cut_extrude_15 = cut_extrude_15_1 + cut_extrude_15_2  # 切除-拉伸15 as one shape, for the pattern or mirror that repeats it

    # 圆角2
    fillet_2_edges = [part.edges().sort_by_distance(p)[0] for p in [
        (75, 1, -57.75),
        (-65, 1, 57.75),
        (-65, 1, 47.75),
        (65, 1, 57.75),
        (65, 1, 47.75),
        (-75, 1, -57.75),
    ]]
    fillet(fillet_2_edges, radius=FILLET_2_R)

    # 草图17 → 切除-拉伸12 (cut, up to next)
    with BuildSketch(Plane(origin=(0, 2, 0), x_dir=(1, 0, 0), z_dir=(0, 1, 0)), mode=Mode.PRIVATE) as cut_extrude_12_sk1:
        with Locations(Location((-28, -45.75, 0), (0, 0, 270))):
            Circle(SKETCH_17_R)
    cut_extrude_12_tool1 = extrude(cut_extrude_12_sk1.sketch, amount=-CUT_EXTRUDE_12_REACH, mode=Mode.PRIVATE) & part.part
    # 草图17 → 切除-拉伸12 (cut, up to next)
    with BuildSketch(Plane(origin=(0, 2, 0), x_dir=(1, 0, 0), z_dir=(0, 1, 0)), mode=Mode.PRIVATE) as cut_extrude_12_sk2:
        with Locations(Location((-28, -55.75, 0), (0, 0, 270))):
            Circle(SKETCH_17_R)
    cut_extrude_12_tool2 = extrude(cut_extrude_12_sk2.sketch, amount=-CUT_EXTRUDE_12_REACH, mode=Mode.PRIVATE) & part.part
    # 草图17 → 切除-拉伸12 (cut, up to next)
    with BuildSketch(Plane(origin=(0, 2, 0), x_dir=(1, 0, 0), z_dir=(0, 1, 0)), mode=Mode.PRIVATE) as cut_extrude_12_sk3:
        with Locations(Location((28, -45.75, 0), (0, 0, 270))):
            Circle(SKETCH_17_R)
    cut_extrude_12_tool3 = extrude(cut_extrude_12_sk3.sketch, amount=-CUT_EXTRUDE_12_REACH, mode=Mode.PRIVATE) & part.part
    # 草图17 → 切除-拉伸12 (cut, up to next)
    with BuildSketch(Plane(origin=(0, 2, 0), x_dir=(1, 0, 0), z_dir=(0, 1, 0)), mode=Mode.PRIVATE) as cut_extrude_12_sk4:
        with Locations(Location((28, -55.75, 0), (0, 0, 270))):
            Circle(SKETCH_17_R)
    cut_extrude_12_tool4 = extrude(cut_extrude_12_sk4.sketch, amount=-CUT_EXTRUDE_12_REACH, mode=Mode.PRIVATE) & part.part
    cut_extrude_12_1 = cut_extrude_12_tool1.solids().sort_by_distance((-28, 2, 45.75))[0]
    add(cut_extrude_12_1, mode=Mode.SUBTRACT)
    cut_extrude_12_2 = cut_extrude_12_tool2.solids().sort_by_distance((-28, 2, 55.75))[0]
    add(cut_extrude_12_2, mode=Mode.SUBTRACT)
    cut_extrude_12_3 = cut_extrude_12_tool3.solids().sort_by_distance((28, 2, 45.75))[0]
    add(cut_extrude_12_3, mode=Mode.SUBTRACT)
    cut_extrude_12_4 = cut_extrude_12_tool4.solids().sort_by_distance((28, 2, 55.75))[0]
    add(cut_extrude_12_4, mode=Mode.SUBTRACT)
    cut_extrude_12 = cut_extrude_12_1 + cut_extrude_12_2 + cut_extrude_12_3 + cut_extrude_12_4  # 切除-拉伸12 as one shape, for the pattern or mirror that repeats it

    # 镜向3: 切除-拉伸12 across plane
    add(cut_extrude_12.mirror(Plane.XY), mode=Mode.SUBTRACT)

    # 圆角3
    fillet_3_edges = [part.edges().sort_by_distance(p)[0] for p in [
        (60, 1, -57.75),
        (31, 1, -70.5),
        (-31, 1, 70.5),
        (-50, 1, 57.75),
        (31, 1, 70.5),
        (50, 1, 57.75),
        (-31, 1, -70.5),
        (-60, 1, -57.75),
    ]]
    fillet(fillet_3_edges, radius=FILLET_3_R)

    # 阵列(圆周)1: 切除-拉伸14, 切除-拉伸15 ×2 about axis
    pattern_circular_1_axis = Axis((0, 0, 0), (0, -1, 0))
    add([cut_extrude_14.rotate(pattern_circular_1_axis, i * PATTERN_CIRCULAR_1_ANGLE / (PATTERN_CIRCULAR_1_COUNT - 1)) for i in range(1, PATTERN_CIRCULAR_1_COUNT)], mode=Mode.SUBTRACT)
    add([cut_extrude_15.rotate(pattern_circular_1_axis, i * PATTERN_CIRCULAR_1_ANGLE / (PATTERN_CIRCULAR_1_COUNT - 1)) for i in range(1, PATTERN_CIRCULAR_1_COUNT)], mode=Mode.SUBTRACT)

    # 阵列(圆周)1 copy 1 sketch → 阵列(圆周)1 copy 1 (cut, up to next)
    with BuildSketch(Plane(origin=(0, 2, 0), x_dir=(0, 0, -1), z_dir=(0, 1, 0)), mode=Mode.PRIVATE) as pattern_circular_1_copy_1_sk1:
        with Locations((-47.5, -9)):
            Circle(PATTERN_CIRCULAR_1_COPY_1_SKETCH_R)
    pattern_circular_1_copy_1_tool1 = extrude(pattern_circular_1_copy_1_sk1.sketch, amount=-PATTERN_CIRCULAR_1_COPY_1_REACH, mode=Mode.PRIVATE) & part.part
    # 阵列(圆周)1 copy 1 sketch → 阵列(圆周)1 copy 1 (cut, up to next)
    with BuildSketch(Plane(origin=(0, 2, 0), x_dir=(0, 0, -1), z_dir=(0, 1, 0)), mode=Mode.PRIVATE) as pattern_circular_1_copy_1_sk2:
        with Locations((-47.5, 9)):
            Circle(PATTERN_CIRCULAR_1_COPY_1_SKETCH_R)
    pattern_circular_1_copy_1_tool2 = extrude(pattern_circular_1_copy_1_sk2.sketch, amount=-PATTERN_CIRCULAR_1_COPY_1_REACH, mode=Mode.PRIVATE) & part.part
    # 阵列(圆周)1 copy 1 sketch → 阵列(圆周)1 copy 1 (cut, up to next)
    with BuildSketch(Plane(origin=(0, 2, 0), x_dir=(0, 0, -1), z_dir=(0, 1, 0)), mode=Mode.PRIVATE) as pattern_circular_1_copy_1_sk3:
        with Locations((-34.5, 9)):
            Circle(PATTERN_CIRCULAR_1_COPY_1_SKETCH_R)
    pattern_circular_1_copy_1_tool3 = extrude(pattern_circular_1_copy_1_sk3.sketch, amount=-PATTERN_CIRCULAR_1_COPY_1_REACH, mode=Mode.PRIVATE) & part.part
    # 阵列(圆周)1 copy 1 sketch → 阵列(圆周)1 copy 1 (cut, up to next)
    with BuildSketch(Plane(origin=(0, 2, 0), x_dir=(0, 0, -1), z_dir=(0, 1, 0)), mode=Mode.PRIVATE) as pattern_circular_1_copy_1_sk4:
        with Locations((-34.5, -9)):
            Circle(PATTERN_CIRCULAR_1_COPY_1_SKETCH_R)
    pattern_circular_1_copy_1_tool4 = extrude(pattern_circular_1_copy_1_sk4.sketch, amount=-PATTERN_CIRCULAR_1_COPY_1_REACH, mode=Mode.PRIVATE) & part.part
    add(pattern_circular_1_copy_1_tool1.solids().sort_by_distance((9, 2, 47.5))[0], mode=Mode.SUBTRACT)
    add(pattern_circular_1_copy_1_tool2.solids().sort_by_distance((-9, 2, 47.5))[0], mode=Mode.SUBTRACT)
    add(pattern_circular_1_copy_1_tool3.solids().sort_by_distance((-9, 2, 34.5))[0], mode=Mode.SUBTRACT)
    add(pattern_circular_1_copy_1_tool4.solids().sort_by_distance((9, 2, 34.5))[0], mode=Mode.SUBTRACT)


solid = part.part
